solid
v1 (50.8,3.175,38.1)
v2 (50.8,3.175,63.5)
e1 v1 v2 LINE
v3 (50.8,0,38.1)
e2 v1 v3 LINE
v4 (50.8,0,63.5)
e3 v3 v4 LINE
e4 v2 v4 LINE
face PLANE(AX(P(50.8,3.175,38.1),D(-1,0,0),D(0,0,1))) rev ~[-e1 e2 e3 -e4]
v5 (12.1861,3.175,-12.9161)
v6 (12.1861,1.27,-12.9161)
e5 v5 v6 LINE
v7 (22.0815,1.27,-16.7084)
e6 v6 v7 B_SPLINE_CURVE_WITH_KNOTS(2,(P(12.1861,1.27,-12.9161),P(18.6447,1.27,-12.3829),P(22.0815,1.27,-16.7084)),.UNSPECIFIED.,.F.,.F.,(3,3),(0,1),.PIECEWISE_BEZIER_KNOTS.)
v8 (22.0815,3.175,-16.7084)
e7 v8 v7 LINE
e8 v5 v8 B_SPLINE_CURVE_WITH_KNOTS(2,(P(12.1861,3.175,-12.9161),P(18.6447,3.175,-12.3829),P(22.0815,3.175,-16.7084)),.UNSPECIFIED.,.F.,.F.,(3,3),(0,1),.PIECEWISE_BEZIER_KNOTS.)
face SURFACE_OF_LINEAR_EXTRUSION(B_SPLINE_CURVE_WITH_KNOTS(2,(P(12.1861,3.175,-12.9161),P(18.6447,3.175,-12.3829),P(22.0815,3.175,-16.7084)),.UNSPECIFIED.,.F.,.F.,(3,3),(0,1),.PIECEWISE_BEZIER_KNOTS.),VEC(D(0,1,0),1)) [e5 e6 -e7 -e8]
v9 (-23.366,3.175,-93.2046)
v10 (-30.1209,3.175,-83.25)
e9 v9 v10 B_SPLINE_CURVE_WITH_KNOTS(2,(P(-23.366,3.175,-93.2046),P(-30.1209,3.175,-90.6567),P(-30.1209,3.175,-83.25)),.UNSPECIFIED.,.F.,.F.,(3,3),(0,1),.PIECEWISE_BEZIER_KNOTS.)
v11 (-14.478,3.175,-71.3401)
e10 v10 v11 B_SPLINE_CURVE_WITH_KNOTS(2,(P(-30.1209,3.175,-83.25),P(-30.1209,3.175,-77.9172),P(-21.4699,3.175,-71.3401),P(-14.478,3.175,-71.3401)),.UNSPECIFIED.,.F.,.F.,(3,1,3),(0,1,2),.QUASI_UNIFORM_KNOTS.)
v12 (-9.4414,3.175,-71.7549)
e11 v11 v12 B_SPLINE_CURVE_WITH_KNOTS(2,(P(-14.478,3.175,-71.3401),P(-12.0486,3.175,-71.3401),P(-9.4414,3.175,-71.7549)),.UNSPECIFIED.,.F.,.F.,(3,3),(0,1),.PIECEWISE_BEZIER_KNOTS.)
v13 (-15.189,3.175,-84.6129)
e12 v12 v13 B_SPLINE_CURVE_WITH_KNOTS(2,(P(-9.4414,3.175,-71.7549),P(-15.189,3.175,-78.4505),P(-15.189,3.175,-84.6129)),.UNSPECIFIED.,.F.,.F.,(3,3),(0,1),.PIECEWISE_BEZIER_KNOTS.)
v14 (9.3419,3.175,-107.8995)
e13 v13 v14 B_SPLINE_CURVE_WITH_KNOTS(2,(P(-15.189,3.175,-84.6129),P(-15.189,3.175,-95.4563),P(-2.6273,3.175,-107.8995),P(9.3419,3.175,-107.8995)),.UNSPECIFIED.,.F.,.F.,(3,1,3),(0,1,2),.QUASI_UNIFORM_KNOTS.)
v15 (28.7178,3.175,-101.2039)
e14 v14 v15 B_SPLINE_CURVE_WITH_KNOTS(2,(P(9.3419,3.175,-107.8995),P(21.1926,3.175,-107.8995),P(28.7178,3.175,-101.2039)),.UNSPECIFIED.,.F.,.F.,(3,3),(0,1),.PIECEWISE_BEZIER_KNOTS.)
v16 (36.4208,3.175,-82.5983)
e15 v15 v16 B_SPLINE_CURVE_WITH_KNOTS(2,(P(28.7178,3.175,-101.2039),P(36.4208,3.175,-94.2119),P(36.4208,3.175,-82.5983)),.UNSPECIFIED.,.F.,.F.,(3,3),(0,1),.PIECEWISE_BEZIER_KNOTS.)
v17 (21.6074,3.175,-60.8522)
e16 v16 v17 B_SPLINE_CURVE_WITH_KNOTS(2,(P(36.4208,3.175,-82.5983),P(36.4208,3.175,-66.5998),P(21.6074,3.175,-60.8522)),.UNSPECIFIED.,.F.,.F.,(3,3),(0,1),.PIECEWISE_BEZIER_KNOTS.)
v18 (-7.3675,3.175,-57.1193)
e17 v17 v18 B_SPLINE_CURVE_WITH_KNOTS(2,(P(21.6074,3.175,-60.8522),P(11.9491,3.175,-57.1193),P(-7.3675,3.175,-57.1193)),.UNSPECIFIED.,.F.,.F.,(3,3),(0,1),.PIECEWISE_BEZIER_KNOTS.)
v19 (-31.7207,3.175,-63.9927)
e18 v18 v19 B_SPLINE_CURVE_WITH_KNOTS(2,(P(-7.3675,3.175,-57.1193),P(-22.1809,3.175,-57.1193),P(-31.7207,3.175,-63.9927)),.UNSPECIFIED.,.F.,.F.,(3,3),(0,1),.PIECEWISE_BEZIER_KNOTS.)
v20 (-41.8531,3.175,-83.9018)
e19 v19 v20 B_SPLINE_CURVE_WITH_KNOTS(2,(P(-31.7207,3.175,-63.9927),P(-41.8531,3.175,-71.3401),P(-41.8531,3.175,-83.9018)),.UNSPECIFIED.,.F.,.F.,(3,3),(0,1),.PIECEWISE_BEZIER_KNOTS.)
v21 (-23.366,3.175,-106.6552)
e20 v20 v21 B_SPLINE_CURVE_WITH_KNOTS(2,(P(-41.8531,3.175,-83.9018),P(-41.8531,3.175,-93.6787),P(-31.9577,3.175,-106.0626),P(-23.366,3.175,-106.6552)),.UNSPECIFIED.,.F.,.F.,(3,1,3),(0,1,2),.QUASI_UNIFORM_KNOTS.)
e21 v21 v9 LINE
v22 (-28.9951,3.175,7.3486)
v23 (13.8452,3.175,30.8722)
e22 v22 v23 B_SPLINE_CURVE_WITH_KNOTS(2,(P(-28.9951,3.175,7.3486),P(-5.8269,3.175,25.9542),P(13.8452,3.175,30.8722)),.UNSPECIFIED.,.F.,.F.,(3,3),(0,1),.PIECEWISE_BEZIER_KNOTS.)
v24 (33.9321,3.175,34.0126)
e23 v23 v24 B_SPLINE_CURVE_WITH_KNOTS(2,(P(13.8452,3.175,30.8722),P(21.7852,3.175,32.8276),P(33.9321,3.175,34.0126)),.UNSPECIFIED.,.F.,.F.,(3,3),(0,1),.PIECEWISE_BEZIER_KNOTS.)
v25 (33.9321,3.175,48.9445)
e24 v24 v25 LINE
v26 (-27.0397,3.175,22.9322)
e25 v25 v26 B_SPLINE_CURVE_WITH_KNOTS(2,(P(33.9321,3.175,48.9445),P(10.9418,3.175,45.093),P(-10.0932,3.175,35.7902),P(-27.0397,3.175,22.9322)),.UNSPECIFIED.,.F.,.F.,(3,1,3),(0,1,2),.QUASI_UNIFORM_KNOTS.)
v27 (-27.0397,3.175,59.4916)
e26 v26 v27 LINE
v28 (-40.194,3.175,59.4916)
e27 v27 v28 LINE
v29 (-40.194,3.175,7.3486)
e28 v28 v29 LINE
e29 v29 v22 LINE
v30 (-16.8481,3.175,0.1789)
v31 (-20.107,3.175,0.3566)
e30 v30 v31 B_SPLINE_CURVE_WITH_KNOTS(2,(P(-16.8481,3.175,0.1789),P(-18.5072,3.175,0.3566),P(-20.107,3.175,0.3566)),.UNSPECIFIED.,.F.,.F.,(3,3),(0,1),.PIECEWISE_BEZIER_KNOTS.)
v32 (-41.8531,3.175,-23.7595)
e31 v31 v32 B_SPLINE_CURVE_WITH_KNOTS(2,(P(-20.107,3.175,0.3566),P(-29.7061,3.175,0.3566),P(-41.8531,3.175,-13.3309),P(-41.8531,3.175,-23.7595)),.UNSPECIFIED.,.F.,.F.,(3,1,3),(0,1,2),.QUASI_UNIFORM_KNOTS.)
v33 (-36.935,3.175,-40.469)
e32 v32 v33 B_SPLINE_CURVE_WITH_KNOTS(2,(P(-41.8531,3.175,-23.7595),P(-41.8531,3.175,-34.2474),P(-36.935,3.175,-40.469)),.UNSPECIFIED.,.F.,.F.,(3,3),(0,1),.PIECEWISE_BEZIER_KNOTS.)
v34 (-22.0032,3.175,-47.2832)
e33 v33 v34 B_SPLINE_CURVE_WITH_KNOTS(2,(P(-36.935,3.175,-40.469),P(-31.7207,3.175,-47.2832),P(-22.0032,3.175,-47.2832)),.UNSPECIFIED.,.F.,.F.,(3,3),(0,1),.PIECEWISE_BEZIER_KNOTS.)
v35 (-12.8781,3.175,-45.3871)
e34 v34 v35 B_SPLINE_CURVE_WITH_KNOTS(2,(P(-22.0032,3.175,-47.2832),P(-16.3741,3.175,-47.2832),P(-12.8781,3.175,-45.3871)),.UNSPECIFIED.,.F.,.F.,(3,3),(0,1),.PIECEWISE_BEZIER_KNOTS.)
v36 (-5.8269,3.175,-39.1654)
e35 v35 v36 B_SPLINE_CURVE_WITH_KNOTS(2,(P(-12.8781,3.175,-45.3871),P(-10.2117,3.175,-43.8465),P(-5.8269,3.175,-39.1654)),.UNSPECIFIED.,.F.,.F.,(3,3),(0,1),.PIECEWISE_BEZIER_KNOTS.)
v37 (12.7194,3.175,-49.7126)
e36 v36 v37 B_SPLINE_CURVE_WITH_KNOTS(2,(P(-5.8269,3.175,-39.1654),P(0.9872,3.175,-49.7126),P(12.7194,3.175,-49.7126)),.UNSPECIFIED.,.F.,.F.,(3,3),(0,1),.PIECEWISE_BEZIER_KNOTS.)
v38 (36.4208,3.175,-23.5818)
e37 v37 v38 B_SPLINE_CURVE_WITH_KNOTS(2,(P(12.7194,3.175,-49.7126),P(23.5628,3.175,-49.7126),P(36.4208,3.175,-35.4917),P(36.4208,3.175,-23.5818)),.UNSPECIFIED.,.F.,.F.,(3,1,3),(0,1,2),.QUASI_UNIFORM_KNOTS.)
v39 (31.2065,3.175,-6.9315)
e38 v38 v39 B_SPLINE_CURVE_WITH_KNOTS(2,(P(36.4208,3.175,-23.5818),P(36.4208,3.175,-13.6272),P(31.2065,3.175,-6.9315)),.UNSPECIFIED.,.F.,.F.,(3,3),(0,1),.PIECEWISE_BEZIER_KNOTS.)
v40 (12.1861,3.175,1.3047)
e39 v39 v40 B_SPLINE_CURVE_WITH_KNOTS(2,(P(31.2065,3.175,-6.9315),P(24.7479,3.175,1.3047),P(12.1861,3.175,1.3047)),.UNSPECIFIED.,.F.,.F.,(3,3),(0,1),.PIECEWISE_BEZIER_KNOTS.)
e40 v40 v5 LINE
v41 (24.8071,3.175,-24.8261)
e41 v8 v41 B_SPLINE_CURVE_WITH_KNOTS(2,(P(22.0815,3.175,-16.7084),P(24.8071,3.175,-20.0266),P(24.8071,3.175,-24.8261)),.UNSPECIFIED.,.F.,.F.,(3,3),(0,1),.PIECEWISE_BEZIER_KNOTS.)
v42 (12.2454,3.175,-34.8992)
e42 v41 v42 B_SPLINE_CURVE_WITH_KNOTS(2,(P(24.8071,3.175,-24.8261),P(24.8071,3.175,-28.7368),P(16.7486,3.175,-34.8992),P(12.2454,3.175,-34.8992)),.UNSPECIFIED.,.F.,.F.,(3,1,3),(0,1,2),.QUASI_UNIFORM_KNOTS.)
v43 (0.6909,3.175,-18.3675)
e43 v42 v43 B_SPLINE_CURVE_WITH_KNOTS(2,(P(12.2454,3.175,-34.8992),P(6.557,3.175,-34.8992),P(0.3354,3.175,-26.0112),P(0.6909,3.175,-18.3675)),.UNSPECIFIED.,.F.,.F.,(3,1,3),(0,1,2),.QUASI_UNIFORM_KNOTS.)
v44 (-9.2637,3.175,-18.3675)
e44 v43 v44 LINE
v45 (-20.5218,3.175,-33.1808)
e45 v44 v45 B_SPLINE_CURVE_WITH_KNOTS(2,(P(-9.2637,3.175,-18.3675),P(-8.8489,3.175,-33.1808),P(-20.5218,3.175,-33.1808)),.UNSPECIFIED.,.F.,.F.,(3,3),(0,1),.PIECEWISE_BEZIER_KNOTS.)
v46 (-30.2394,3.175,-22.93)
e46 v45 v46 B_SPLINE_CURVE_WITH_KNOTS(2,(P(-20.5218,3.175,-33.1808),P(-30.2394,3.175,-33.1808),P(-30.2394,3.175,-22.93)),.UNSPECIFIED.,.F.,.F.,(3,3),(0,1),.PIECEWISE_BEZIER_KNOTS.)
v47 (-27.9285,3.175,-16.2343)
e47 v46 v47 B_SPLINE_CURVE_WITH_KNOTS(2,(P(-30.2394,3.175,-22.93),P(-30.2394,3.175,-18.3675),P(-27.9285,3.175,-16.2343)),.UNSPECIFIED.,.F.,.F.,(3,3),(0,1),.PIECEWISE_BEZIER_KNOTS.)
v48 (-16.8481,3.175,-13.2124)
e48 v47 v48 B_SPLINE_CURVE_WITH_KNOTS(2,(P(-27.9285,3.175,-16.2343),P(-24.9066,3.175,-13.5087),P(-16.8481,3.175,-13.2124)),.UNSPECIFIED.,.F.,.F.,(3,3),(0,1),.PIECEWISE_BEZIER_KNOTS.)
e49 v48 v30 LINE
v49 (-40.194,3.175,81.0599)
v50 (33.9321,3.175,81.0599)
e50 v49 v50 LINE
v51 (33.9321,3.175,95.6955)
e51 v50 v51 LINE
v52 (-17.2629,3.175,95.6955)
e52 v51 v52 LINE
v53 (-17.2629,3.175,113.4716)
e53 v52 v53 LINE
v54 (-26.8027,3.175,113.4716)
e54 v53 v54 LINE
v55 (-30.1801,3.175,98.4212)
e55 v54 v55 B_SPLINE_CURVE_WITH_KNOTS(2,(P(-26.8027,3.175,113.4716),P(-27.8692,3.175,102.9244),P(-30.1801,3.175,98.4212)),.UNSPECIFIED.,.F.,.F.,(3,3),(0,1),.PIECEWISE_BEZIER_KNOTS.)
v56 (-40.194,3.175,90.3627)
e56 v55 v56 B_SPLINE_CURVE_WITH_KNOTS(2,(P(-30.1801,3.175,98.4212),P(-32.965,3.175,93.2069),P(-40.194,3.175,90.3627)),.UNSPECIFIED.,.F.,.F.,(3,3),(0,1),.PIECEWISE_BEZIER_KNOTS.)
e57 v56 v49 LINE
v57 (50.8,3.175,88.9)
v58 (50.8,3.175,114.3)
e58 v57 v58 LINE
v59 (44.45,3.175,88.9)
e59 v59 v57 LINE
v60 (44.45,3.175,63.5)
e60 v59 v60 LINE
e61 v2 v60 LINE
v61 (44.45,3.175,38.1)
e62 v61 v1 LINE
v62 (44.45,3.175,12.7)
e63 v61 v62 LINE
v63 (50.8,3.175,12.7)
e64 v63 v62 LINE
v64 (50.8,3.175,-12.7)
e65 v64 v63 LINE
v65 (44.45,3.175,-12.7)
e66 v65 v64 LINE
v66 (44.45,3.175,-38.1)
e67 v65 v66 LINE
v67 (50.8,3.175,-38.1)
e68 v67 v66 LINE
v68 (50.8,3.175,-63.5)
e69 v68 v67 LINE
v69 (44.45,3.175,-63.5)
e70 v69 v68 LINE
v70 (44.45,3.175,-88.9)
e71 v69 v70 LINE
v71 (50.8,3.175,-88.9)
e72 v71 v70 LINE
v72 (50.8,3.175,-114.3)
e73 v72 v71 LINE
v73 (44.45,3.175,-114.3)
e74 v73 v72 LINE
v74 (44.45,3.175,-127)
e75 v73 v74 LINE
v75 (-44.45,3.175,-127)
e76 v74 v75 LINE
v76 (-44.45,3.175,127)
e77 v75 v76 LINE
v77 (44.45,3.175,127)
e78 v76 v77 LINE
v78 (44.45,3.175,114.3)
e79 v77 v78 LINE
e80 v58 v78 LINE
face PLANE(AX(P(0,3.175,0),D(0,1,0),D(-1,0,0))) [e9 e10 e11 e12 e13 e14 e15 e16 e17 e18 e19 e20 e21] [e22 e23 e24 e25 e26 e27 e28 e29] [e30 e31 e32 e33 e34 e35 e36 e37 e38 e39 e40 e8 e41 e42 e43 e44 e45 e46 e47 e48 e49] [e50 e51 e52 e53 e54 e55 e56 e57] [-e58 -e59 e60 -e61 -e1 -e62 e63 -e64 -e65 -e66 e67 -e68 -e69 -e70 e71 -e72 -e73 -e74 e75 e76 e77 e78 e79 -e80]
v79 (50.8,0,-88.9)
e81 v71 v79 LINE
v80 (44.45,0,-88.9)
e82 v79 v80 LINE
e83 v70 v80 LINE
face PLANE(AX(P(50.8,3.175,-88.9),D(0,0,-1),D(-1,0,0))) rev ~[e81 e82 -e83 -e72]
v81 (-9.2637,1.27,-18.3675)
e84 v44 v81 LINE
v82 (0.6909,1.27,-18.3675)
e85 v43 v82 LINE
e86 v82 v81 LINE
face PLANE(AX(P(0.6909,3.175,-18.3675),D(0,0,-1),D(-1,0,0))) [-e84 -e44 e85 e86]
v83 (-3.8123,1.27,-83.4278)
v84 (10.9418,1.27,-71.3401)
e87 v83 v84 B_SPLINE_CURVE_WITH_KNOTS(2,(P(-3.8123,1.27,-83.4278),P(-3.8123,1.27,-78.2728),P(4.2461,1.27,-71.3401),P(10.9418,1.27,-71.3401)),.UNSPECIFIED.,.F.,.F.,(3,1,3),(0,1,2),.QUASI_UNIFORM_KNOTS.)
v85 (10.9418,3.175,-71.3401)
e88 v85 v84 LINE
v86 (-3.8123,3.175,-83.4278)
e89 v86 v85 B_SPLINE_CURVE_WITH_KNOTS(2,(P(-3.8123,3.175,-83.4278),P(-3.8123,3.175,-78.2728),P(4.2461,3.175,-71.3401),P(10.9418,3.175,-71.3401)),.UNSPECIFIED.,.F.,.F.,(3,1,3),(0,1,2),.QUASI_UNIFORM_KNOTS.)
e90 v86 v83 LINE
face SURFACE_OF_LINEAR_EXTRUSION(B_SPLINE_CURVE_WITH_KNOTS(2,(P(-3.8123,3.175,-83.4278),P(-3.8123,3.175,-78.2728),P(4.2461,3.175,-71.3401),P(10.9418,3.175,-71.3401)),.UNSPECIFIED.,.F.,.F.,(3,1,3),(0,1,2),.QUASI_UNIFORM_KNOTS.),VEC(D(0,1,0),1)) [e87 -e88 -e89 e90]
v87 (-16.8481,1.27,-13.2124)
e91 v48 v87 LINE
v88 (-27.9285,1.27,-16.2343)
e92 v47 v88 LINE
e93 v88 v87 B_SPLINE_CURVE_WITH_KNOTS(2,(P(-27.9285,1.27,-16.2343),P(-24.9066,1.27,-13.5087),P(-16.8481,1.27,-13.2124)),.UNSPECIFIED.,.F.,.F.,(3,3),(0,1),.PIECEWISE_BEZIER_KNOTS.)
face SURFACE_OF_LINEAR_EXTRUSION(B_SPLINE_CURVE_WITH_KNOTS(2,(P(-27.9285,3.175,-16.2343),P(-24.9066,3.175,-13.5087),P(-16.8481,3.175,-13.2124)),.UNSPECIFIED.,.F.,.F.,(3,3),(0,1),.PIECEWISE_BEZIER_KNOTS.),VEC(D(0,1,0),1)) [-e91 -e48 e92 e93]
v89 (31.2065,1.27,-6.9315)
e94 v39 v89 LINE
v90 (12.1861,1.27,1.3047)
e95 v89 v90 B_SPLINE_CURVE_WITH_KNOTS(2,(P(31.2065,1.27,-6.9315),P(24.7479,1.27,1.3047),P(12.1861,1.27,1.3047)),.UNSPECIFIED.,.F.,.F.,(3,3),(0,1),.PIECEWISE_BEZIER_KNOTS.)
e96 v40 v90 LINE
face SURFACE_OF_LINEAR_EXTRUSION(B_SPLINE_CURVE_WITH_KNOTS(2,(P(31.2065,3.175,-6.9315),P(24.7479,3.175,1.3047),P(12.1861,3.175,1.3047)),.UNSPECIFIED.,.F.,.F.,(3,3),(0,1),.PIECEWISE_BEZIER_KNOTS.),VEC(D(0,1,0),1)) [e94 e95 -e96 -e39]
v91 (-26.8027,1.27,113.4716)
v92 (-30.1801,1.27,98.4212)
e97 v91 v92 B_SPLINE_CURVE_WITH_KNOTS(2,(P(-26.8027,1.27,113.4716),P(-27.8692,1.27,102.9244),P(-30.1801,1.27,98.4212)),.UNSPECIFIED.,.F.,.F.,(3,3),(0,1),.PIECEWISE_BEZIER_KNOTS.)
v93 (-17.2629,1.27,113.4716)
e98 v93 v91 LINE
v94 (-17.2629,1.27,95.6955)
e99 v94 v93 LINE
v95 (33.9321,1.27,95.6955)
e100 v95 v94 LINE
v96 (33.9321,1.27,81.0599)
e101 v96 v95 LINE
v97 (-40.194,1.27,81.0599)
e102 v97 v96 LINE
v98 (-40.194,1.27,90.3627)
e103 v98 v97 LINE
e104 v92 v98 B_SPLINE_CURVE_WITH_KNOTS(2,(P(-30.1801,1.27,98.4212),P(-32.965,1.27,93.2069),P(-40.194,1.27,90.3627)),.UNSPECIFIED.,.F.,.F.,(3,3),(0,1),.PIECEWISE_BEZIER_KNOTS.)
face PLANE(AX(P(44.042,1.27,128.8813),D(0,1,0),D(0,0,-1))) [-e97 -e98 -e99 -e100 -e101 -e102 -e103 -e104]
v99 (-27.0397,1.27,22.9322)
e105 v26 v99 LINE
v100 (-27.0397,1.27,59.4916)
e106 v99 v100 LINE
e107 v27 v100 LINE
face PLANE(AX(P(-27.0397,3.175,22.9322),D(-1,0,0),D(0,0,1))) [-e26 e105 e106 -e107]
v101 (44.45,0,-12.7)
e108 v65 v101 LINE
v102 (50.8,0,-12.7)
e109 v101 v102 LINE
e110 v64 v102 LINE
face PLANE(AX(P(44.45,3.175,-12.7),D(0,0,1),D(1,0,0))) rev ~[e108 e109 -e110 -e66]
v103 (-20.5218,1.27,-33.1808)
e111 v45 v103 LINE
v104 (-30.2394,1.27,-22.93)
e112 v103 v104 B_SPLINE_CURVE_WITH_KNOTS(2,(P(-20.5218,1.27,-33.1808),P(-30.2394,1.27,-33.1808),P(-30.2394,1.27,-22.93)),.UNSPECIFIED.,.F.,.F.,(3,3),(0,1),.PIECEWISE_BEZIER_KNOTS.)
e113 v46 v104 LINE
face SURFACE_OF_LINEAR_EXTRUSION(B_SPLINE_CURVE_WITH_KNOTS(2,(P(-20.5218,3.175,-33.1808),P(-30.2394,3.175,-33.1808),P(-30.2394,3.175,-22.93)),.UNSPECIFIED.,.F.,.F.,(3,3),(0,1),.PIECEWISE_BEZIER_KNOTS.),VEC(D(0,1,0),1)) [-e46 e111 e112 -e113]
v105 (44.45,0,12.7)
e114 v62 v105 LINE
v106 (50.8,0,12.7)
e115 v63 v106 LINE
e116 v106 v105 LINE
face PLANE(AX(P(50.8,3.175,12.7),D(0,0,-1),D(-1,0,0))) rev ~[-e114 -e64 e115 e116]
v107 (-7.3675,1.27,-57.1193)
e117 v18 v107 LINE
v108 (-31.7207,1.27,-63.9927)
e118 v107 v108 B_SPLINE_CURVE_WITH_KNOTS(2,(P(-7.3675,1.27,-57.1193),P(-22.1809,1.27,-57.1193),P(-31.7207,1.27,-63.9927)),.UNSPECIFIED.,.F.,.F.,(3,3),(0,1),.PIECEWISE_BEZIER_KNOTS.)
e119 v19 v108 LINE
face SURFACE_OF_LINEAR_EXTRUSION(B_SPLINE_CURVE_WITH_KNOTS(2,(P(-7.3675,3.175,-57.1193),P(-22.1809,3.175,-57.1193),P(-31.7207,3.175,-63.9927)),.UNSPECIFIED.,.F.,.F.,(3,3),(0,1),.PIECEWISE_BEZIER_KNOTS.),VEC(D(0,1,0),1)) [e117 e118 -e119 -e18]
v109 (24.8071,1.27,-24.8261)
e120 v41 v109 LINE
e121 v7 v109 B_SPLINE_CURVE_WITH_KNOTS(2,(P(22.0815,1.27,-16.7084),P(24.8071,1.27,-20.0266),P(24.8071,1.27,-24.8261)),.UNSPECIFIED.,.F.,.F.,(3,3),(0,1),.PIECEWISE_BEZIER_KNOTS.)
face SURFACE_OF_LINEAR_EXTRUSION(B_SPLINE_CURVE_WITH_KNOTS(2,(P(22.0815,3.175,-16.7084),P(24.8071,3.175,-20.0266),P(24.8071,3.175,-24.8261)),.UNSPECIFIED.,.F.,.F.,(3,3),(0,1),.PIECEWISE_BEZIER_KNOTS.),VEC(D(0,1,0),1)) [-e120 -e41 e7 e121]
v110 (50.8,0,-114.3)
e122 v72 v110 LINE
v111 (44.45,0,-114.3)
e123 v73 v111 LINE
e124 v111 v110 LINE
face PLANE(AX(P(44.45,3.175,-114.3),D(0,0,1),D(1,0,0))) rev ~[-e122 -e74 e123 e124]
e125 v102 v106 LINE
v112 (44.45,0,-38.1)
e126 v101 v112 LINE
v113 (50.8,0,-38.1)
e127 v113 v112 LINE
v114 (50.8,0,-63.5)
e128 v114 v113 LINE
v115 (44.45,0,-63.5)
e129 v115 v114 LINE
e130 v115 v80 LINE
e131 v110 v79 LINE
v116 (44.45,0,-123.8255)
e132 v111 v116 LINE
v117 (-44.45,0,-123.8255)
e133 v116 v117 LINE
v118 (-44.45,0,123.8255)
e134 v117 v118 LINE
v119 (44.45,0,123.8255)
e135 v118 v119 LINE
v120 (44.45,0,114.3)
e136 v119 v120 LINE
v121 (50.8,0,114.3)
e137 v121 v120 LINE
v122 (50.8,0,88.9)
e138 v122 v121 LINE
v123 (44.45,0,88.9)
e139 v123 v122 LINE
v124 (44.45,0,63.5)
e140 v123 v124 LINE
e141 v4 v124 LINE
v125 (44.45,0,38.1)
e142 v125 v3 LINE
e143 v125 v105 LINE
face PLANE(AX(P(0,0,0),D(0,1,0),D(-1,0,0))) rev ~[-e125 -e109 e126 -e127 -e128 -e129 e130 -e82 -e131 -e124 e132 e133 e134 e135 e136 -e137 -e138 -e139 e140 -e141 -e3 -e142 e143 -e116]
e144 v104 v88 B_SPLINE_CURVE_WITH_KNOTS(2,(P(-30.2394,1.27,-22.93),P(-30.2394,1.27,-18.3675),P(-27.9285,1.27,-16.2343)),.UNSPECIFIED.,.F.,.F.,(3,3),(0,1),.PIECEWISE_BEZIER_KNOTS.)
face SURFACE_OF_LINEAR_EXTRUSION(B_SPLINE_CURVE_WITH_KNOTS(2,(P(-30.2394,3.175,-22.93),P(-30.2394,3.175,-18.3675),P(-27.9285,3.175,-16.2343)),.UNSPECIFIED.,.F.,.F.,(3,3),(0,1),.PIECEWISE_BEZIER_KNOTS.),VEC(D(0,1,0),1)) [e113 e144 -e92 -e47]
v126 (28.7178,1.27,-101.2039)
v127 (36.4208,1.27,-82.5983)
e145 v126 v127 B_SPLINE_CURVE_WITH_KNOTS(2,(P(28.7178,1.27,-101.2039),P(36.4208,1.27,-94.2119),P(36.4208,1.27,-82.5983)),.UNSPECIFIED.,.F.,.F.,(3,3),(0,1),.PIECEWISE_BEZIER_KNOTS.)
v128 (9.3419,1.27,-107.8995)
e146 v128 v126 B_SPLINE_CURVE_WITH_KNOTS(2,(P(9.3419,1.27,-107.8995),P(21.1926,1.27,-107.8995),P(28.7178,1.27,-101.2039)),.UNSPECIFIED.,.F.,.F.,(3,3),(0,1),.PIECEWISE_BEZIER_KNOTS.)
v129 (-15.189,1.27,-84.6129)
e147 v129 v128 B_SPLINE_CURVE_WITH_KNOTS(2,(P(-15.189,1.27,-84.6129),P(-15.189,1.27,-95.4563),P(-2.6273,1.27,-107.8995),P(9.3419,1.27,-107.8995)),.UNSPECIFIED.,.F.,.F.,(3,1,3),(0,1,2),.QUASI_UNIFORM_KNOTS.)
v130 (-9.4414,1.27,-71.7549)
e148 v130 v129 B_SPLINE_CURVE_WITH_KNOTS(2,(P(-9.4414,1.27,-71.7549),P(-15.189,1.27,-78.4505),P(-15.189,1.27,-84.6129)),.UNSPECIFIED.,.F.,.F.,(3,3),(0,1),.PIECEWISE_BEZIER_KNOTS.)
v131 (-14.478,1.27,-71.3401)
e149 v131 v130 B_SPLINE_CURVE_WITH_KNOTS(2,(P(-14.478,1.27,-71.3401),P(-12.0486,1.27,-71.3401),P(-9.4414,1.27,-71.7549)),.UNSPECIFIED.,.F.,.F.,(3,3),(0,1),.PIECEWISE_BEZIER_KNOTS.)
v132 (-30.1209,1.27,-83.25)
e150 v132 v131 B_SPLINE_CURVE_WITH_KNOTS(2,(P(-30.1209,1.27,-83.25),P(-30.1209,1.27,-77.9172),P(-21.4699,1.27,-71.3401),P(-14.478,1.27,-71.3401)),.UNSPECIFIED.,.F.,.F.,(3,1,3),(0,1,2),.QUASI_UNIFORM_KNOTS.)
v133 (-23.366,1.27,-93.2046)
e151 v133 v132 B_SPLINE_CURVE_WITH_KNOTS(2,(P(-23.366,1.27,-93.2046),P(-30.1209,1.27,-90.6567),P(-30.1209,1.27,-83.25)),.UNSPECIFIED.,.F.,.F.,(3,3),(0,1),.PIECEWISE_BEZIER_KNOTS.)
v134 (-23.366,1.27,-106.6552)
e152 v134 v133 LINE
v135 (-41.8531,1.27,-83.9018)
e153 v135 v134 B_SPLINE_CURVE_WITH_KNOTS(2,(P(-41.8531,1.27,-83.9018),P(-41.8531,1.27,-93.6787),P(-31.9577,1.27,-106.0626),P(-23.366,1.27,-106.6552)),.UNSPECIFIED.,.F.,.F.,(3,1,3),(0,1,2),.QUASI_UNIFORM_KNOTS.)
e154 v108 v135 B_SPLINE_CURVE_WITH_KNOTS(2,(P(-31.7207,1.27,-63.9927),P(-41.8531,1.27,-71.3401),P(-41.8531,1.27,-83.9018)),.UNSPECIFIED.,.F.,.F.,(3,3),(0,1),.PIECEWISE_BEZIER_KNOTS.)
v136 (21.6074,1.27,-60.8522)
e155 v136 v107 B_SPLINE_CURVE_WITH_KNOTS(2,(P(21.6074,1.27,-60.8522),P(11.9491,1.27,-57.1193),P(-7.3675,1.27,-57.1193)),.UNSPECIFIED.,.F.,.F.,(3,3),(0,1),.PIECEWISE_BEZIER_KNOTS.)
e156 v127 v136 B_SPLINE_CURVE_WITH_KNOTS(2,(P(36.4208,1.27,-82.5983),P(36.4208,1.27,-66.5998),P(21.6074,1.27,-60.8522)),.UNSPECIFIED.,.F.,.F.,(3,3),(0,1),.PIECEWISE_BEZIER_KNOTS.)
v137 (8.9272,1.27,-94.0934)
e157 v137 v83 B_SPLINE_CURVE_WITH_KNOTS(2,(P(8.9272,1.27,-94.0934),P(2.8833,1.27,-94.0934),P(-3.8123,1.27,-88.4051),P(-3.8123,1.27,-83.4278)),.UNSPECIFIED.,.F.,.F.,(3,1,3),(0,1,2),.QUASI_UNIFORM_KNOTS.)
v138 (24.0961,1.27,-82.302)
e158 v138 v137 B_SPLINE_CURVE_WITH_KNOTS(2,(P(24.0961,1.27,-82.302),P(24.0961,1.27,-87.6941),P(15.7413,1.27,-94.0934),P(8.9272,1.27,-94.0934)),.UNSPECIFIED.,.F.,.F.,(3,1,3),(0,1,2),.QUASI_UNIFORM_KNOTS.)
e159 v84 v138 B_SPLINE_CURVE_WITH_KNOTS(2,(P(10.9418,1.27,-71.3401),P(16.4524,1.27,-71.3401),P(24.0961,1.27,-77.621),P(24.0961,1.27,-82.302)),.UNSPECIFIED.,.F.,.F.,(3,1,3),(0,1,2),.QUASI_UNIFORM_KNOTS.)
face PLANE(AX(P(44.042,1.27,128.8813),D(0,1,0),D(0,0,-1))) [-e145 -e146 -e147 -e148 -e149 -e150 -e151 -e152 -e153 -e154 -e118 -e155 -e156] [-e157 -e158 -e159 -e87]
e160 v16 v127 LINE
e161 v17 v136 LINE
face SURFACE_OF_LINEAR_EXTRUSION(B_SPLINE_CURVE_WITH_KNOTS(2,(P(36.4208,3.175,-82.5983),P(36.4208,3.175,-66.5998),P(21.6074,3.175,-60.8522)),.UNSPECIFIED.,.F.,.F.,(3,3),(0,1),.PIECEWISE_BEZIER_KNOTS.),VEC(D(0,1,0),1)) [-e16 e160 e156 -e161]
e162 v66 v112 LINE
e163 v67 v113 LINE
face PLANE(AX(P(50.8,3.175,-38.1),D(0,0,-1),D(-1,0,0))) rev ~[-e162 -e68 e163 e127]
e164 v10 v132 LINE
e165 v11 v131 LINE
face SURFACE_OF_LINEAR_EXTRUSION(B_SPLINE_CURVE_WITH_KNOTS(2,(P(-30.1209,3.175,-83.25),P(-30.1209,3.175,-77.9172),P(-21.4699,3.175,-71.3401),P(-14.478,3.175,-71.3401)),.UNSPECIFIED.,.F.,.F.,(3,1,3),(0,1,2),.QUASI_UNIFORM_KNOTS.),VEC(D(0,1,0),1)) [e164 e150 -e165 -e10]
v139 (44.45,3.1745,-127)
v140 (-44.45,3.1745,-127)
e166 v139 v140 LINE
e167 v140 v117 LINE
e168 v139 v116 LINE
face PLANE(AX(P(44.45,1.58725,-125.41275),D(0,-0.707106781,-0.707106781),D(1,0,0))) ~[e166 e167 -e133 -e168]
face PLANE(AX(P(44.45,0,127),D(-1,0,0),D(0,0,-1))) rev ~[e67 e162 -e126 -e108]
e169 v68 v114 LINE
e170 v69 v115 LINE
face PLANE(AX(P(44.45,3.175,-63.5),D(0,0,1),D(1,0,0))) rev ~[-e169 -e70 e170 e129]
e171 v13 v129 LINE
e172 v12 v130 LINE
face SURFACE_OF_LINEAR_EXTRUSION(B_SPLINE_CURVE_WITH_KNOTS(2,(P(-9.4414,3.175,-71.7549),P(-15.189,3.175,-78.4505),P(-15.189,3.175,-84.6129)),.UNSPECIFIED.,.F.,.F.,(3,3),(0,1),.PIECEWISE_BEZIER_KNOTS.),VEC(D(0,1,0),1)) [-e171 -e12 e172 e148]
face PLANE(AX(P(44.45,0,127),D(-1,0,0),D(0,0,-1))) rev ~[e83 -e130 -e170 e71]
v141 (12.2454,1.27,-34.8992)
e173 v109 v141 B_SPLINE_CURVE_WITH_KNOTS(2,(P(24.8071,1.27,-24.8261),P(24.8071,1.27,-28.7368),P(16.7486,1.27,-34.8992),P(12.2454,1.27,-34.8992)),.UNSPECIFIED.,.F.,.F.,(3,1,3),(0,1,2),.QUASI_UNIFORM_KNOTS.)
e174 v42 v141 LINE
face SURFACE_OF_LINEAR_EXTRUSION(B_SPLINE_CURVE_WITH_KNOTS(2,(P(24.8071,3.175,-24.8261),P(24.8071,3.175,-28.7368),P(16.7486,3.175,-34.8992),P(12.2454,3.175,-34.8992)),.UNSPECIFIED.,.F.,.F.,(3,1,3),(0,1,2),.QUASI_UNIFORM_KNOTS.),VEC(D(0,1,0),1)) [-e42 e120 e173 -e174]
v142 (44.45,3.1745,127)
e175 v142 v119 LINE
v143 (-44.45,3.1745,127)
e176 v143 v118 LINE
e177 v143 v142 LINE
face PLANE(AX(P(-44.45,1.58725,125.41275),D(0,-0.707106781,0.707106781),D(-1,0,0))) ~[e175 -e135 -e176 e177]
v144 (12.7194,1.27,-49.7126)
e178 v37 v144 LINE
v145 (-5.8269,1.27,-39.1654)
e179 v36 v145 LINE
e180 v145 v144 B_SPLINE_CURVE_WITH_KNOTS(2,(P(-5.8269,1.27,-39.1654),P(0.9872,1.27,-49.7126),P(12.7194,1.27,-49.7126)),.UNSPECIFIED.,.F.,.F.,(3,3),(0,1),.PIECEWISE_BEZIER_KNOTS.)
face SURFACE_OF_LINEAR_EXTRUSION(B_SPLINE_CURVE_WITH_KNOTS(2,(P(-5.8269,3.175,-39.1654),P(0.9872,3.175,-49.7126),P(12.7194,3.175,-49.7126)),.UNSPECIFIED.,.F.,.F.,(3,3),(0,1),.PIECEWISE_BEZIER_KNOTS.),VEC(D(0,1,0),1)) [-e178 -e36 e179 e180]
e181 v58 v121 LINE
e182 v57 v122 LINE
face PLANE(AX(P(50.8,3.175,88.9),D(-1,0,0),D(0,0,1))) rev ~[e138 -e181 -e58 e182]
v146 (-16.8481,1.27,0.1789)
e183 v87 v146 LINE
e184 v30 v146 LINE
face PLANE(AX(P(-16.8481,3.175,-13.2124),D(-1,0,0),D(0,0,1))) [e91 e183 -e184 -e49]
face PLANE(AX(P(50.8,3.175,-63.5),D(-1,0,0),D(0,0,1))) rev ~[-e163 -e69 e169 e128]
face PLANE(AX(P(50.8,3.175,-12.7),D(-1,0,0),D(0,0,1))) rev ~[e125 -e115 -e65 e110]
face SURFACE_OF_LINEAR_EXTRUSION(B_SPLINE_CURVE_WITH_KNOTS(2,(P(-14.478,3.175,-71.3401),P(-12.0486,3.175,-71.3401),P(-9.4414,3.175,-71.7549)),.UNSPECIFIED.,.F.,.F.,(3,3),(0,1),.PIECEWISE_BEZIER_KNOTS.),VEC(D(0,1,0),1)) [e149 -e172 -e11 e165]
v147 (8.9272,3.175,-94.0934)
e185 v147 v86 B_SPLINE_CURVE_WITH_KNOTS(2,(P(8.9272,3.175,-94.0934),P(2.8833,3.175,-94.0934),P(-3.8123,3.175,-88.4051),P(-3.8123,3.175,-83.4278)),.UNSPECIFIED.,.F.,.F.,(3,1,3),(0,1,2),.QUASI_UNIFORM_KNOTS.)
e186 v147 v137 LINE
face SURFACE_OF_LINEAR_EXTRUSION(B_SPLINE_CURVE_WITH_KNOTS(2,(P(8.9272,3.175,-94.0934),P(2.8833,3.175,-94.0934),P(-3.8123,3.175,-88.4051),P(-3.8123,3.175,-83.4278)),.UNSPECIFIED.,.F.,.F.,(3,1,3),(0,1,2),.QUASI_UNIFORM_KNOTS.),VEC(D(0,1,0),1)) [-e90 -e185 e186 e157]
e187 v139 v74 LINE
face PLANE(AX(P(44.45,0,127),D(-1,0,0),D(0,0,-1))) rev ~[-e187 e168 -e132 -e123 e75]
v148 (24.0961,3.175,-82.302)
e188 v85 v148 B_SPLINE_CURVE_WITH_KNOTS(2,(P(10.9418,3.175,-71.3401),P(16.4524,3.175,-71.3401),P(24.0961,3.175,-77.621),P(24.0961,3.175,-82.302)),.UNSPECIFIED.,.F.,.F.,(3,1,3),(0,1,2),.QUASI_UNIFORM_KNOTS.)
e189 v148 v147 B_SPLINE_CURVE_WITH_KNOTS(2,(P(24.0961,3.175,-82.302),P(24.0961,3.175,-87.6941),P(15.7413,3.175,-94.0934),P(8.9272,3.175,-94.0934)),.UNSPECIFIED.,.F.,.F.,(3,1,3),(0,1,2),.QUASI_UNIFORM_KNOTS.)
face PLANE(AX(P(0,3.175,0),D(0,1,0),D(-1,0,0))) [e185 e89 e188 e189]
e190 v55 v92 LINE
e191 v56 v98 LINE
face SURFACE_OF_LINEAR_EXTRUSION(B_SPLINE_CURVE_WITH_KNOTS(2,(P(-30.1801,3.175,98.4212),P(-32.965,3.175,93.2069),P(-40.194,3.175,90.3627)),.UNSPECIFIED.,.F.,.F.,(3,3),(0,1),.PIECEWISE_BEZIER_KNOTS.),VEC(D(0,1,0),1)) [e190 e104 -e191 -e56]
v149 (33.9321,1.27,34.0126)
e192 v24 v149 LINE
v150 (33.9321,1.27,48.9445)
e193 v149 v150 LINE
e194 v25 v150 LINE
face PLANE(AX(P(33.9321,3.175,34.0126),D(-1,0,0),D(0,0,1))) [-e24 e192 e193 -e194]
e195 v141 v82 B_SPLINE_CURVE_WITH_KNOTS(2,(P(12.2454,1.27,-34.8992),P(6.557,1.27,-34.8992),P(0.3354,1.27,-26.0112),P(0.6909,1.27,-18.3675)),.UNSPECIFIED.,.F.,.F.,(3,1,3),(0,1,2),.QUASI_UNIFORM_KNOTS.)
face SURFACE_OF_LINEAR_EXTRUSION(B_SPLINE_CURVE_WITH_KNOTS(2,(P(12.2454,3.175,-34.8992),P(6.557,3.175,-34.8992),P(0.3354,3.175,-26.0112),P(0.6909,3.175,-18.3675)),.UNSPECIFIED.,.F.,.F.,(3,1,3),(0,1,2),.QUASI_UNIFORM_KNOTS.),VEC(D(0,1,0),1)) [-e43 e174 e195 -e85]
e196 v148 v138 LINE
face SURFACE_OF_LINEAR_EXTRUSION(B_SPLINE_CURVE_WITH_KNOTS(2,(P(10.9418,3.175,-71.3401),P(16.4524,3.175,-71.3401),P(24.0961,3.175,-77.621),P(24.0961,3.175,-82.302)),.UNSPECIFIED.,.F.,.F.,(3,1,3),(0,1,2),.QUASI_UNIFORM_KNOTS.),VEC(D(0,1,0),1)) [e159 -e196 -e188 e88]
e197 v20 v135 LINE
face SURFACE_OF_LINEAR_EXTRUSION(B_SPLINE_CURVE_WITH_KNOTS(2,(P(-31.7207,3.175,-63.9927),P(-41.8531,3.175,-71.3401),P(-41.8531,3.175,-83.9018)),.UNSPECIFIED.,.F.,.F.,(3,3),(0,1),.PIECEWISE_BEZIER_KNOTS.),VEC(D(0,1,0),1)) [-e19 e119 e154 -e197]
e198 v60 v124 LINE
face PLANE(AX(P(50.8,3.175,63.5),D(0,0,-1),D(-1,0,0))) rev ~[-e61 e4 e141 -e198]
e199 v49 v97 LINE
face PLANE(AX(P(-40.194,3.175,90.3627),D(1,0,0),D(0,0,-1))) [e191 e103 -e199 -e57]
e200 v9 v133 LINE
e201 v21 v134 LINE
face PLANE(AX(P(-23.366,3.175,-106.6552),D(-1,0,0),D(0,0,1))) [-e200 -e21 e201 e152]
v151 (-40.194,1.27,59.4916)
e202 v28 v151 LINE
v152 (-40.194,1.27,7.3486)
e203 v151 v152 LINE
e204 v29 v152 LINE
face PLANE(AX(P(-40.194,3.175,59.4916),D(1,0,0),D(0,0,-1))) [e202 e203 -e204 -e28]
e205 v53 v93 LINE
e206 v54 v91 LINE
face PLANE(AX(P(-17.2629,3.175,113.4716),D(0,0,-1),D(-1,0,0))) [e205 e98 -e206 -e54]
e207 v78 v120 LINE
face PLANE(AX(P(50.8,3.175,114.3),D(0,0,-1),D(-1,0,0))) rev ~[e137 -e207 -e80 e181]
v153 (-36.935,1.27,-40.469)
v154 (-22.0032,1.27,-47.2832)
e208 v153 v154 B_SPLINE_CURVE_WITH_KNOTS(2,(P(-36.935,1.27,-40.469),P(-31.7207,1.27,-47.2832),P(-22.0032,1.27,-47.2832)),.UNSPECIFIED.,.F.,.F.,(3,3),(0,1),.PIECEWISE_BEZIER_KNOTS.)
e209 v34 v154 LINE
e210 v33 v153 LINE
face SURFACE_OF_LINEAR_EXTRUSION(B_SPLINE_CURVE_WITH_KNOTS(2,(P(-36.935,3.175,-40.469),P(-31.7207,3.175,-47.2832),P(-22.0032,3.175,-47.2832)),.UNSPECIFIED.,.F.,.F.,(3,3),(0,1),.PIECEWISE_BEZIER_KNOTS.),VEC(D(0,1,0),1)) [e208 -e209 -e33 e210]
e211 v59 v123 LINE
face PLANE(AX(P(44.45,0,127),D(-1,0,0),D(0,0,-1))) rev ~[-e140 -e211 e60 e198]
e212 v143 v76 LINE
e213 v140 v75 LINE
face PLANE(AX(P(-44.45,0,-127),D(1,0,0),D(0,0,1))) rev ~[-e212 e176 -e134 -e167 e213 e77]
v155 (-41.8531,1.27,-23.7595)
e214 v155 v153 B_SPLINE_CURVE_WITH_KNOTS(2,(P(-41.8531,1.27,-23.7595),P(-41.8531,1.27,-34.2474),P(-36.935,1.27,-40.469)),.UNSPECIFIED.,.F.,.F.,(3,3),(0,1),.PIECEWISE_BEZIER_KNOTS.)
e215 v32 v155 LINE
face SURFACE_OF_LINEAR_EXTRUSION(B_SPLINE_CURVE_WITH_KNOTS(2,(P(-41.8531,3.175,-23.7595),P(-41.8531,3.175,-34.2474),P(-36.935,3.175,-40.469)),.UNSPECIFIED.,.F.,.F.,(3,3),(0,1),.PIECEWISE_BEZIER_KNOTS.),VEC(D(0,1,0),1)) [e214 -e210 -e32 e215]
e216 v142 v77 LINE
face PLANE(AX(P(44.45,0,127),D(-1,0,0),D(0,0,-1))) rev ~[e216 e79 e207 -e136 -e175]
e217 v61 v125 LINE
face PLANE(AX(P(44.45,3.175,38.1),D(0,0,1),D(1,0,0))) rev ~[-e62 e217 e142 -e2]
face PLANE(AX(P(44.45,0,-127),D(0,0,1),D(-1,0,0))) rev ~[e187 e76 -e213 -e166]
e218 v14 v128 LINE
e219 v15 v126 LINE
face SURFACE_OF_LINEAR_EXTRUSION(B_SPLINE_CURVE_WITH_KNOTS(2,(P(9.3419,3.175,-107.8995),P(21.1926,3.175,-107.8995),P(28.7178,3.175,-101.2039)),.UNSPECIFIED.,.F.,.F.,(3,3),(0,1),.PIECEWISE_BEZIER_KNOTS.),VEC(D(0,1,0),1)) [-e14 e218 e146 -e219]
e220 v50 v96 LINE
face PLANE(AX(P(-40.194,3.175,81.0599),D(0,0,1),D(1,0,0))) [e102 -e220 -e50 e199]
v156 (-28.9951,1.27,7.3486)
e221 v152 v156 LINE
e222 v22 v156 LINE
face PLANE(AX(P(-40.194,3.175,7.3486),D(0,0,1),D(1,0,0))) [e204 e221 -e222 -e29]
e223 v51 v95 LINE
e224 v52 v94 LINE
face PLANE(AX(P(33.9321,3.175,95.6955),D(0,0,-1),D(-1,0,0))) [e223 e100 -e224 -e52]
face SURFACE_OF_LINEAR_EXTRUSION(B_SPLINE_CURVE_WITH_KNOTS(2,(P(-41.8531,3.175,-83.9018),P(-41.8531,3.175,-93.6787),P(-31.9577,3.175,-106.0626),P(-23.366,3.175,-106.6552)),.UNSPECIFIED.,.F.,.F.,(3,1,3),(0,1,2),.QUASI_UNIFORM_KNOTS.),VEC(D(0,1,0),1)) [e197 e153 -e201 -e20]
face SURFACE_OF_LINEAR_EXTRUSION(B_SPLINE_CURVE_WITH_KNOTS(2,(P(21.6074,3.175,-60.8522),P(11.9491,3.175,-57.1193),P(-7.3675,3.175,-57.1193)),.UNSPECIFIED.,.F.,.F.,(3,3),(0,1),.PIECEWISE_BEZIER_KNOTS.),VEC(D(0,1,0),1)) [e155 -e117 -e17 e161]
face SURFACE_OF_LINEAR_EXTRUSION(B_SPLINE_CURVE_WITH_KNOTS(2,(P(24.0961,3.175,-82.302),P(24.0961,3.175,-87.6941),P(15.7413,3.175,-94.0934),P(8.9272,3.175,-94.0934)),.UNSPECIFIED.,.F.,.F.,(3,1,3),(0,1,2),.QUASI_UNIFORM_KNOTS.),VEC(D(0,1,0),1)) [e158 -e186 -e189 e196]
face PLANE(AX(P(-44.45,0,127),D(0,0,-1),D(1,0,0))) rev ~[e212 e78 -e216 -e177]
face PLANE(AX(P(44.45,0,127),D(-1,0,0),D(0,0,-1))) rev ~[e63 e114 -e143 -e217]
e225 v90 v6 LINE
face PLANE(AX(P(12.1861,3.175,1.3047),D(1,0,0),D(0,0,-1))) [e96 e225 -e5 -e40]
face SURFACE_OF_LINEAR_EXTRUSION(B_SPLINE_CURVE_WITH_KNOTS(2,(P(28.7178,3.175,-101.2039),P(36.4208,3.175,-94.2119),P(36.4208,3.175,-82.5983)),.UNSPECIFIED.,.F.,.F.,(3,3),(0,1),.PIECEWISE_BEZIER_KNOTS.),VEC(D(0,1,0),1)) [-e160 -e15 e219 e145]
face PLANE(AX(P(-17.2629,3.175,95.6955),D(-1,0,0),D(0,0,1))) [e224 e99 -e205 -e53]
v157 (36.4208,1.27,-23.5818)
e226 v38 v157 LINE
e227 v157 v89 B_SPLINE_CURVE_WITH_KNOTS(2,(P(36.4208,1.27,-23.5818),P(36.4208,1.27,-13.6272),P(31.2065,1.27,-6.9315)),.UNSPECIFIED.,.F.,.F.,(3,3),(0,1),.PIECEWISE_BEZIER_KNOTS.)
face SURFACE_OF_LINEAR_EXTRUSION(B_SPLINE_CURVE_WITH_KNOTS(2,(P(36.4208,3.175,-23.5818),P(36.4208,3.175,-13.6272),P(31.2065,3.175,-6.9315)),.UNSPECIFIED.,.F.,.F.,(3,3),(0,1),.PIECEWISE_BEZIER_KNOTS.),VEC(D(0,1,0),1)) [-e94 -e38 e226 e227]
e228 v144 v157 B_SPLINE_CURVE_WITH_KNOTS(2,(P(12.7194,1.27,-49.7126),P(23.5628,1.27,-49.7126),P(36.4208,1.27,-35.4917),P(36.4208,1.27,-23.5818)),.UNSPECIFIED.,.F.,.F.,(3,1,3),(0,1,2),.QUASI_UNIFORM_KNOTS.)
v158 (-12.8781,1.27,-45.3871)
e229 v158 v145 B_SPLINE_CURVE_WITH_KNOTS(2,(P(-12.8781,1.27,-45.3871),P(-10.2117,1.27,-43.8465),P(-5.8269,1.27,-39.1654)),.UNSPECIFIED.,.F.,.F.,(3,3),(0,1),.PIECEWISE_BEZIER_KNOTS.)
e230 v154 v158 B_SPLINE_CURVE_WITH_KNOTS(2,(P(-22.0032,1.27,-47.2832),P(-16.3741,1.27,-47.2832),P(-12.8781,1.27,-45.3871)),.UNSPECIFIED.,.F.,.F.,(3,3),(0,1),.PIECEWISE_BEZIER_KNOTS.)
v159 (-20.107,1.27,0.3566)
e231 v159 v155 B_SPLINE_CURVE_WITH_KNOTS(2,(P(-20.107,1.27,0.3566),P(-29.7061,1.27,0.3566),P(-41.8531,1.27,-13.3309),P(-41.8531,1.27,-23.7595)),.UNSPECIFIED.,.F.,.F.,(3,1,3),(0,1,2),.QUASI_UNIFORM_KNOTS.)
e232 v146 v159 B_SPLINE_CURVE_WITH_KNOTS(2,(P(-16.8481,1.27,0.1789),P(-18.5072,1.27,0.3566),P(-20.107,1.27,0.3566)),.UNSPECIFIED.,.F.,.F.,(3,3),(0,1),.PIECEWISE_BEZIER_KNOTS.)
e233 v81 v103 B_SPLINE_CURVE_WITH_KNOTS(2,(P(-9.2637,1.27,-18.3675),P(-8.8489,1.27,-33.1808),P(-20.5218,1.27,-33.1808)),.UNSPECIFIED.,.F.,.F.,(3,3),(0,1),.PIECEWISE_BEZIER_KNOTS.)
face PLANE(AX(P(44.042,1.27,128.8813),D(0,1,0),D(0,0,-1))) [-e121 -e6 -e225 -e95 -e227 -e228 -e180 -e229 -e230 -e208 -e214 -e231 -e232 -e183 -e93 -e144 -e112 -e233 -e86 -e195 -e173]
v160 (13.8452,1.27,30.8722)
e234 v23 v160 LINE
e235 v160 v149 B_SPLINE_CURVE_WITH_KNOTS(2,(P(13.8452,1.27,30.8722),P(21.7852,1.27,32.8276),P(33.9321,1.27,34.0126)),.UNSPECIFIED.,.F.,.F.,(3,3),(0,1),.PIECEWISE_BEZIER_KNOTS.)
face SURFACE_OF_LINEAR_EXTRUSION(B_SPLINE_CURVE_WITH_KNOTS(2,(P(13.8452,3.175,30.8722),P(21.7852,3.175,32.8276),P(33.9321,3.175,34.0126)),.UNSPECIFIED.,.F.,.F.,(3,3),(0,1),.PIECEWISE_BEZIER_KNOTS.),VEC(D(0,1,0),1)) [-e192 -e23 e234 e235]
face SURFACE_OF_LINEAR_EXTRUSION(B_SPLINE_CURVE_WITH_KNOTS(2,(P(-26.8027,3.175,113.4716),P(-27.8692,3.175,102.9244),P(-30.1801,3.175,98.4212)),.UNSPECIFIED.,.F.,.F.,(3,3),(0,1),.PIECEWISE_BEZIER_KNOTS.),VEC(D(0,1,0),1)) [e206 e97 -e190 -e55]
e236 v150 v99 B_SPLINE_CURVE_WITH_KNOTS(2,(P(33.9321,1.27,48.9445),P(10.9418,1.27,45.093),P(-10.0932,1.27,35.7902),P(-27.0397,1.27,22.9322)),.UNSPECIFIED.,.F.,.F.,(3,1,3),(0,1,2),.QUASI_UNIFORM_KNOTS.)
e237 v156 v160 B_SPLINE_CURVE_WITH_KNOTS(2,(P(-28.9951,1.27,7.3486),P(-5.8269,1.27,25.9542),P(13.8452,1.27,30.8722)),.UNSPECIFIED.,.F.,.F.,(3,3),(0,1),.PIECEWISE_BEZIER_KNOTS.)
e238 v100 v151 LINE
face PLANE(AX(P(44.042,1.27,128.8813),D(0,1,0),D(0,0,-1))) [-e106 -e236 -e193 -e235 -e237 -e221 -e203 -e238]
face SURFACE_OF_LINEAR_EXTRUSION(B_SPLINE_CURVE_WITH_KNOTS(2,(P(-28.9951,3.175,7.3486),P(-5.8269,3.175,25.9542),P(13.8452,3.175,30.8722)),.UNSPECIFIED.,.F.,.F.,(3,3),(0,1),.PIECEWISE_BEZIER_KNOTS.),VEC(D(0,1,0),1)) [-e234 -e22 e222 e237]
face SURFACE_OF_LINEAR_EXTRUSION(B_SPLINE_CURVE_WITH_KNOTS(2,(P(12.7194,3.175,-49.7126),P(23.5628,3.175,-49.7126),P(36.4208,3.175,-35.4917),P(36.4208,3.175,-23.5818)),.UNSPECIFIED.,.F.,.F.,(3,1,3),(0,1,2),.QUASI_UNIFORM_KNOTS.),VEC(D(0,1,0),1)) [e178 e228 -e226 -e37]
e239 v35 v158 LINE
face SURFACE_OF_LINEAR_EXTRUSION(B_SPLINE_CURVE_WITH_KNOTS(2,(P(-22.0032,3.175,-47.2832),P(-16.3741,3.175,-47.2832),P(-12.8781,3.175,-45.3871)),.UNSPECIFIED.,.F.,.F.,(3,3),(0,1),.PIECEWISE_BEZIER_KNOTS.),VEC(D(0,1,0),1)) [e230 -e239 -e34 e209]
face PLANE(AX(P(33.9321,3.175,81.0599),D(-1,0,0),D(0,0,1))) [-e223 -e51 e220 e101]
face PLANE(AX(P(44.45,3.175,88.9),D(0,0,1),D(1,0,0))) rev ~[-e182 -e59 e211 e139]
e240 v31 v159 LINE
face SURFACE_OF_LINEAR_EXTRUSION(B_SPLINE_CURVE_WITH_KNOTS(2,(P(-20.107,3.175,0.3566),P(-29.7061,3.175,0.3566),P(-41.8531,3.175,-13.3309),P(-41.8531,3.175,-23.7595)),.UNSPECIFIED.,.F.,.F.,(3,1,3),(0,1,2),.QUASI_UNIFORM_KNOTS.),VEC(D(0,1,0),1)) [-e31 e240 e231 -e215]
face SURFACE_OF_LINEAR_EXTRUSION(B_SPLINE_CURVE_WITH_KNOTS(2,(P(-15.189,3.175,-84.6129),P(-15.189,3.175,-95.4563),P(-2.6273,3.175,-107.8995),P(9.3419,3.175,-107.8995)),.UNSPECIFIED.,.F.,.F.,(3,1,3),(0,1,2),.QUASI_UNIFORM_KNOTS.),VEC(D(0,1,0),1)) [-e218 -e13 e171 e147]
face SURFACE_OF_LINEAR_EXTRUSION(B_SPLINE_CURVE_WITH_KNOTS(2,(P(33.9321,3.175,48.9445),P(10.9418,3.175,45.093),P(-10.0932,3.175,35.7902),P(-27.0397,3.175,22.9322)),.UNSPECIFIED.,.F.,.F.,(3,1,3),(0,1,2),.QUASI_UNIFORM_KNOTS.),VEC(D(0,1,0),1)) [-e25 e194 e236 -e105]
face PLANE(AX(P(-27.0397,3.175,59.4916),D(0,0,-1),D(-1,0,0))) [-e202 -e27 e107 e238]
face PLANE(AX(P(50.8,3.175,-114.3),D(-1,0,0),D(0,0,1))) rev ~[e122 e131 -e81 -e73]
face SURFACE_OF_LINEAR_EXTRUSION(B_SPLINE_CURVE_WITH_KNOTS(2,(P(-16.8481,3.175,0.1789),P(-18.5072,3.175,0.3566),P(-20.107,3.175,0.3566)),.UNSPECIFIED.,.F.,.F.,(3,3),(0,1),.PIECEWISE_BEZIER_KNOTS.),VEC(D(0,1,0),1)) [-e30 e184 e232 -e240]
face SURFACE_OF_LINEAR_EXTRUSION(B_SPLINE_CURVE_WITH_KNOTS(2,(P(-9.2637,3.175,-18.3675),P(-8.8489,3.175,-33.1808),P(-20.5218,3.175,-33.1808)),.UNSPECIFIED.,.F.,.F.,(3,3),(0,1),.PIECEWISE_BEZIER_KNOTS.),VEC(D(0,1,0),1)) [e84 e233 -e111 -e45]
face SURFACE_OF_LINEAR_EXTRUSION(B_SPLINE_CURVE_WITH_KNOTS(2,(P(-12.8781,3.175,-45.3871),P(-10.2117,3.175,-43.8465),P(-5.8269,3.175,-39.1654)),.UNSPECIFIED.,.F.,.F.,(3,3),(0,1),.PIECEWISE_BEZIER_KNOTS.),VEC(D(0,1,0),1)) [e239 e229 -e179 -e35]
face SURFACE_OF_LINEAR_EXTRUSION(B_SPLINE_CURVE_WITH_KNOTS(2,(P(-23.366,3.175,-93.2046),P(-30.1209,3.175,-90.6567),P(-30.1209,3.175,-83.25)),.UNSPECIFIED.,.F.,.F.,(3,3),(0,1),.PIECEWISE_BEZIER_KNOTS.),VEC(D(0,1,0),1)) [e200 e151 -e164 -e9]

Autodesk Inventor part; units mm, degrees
ref_plane "YZ Plane" through (0, 0, 0) normal (1, 0, 0) x (0, 1, 0)
ref_plane "XZ Plane" through (0, 0, 0) normal (0, 1, 0) x (-1, 0, 0)
ref_plane "XY Plane" through (0, 0, 0) normal (0, 0, 1) x (1, 0, 0)
sketch "Sketch1" plane through (0, 0, 0) normal (0, 1, 0) x (-1, 0, 0)
  line L0 (44.45, 127) -> (-44.45, 127)
  line L1 (-44.45, 127) -> (-44.45, -127)
  line L2 (-44.45, -127) -> (44.45, -127)
  line L3 (44.45, -127) -> (44.45, 127)
  point P0 (0, 0)
  dimension "d0" = 88.9
  dimension "d1" = 254
extrude "Extrusion1" add sketch "Sketch1" along normal blind 3.175
sketch "Sketch3" plane through (0, 3.175, 0) normal (0, 1, 0) x (1, 0, 0)
  line L0 (50.8, -114.3) -> (44.45, -114.3)
  line L1 (44.45, -114.3) -> (44.45, -88.9)
  line L2 (44.45, -88.9) -> (50.8, -88.9)
  line L3 (50.8, -88.9) -> (50.8, -114.3)
  line L4 (50.8, -63.5) -> (44.45, -63.5)
  line L5 (44.45, -63.5) -> (44.45, -38.1)
  line L6 (44.45, -38.1) -> (50.8, -38.1)
  line L7 (50.8, -38.1) -> (50.8, -63.5)
  line L8 (50.8, -12.7) -> (44.45, -12.7)
  line L9 (44.45, -12.7) -> (44.45, 12.7)
  line L10 (44.45, 12.7) -> (50.8, 12.7)
  line L11 (50.8, 12.7) -> (50.8, -12.7)
  line L12 (50.8, 38.1) -> (44.45, 38.1)
  line L13 (44.45, 38.1) -> (44.45, 63.5)
  line L14 (44.45, 63.5) -> (50.8, 63.5)
  line L15 (50.8, 63.5) -> (50.8, 38.1)
  line L16 (50.8, 88.9) -> (44.45, 88.9)
  line L17 (44.45, 88.9) -> (44.45, 114.3)
  line L18 (44.45, 114.3) -> (50.8, 114.3)
  line L19 (50.8, 114.3) -> (50.8, 88.9)
  point P0 (0, 0)
  dimension "d6" = 50.8
extrude "Extrusion2" add sketch "Sketch3" against normal blind 3.175
sketch "Sketch4" plane through (44.042, 3.175, 128.8813) normal (0, 1, 0) x (0, 0, -1)
  line L0 (8.2401, 85.8951) -> (239.8135, 85.8951) construction
  line L1 (239.8135, 85.8951) -> (239.8135, 3.5919) construction
  line L2 (239.8135, 3.5919) -> (8.2401, 3.5919) construction
  line L3 (8.2401, 3.5919) -> (8.2401, 85.8951) construction
  line L4 (47.8214, 10.1099) -> (33.1858, 10.1099)
  line L5 (33.1858, 10.1099) -> (33.1858, 61.3049)
  line L6 (33.1858, 61.3049) -> (15.4097, 61.3049)
  line L7 (15.4097, 61.3049) -> (15.4097, 70.8447)
  spline S0 degree 2 poles (15.4097, 70.8447) (25.9569, 71.9112) (30.4601, 74.2221) knots 0 0 0 1 1 1
  spline S1 degree 2 poles (30.4601, 74.2221) (35.6744, 77.007) (38.5186, 84.236) knots 0 0 0 1 1 1
  line L8 (38.5186, 84.236) -> (47.8214, 84.236)
  line L9 (47.8214, 84.236) -> (47.8214, 10.1099)
  spline S2 degree 2 poles (121.5327, 73.0371) (102.9271, 49.8689) (98.0091, 30.1968) knots 0 0 0 1 1 1
  spline S3 degree 2 poles (98.0091, 30.1968) (96.0537, 22.2568) (94.8687, 10.1099) knots 0 0 0 1 1 1
  line L10 (94.8687, 10.1099) -> (79.9368, 10.1099)
  spline S4 degree 2 poles (79.9368, 10.1099) (83.7883, 33.1002) (93.0911, 54.1352) (105.9491, 71.0817) knots 0 0 0 1 2 2 2
  line L11 (105.9491, 71.0817) -> (69.3897, 71.0817)
  line L12 (69.3897, 71.0817) -> (69.3897, 84.236)
  line L13 (69.3897, 84.236) -> (121.5327, 84.236)
  line L14 (121.5327, 84.236) -> (121.5327, 73.0371)
  spline S5 degree 2 poles (178.5939, 31.3226) (178.5939, 20.4792) (164.373, 7.6212) (152.4631, 7.6212) knots 0 0 0 1 2 2 2
  spline S6 degree 2 poles (152.4631, 7.6212) (142.5085, 7.6212) (135.8128, 12.8355) knots 0 0 0 1 1 1
  spline S7 degree 2 poles (135.8128, 12.8355) (127.5766, 19.2941) (127.5766, 31.8559) knots 0 0 0 1 1 1
  line L15 (127.5766, 31.8559) -> (141.7974, 31.8559)
  spline S8 degree 2 poles (141.7974, 31.8559) (141.2642, 25.3973) (145.5897, 21.9605) knots 0 0 0 1 1 1
  spline S9 degree 2 poles (145.5897, 21.9605) (148.9079, 19.2349) (153.7074, 19.2349) knots 0 0 0 1 1 1
  spline S10 degree 2 poles (153.7074, 19.2349) (157.6181, 19.2349) (163.7805, 27.2934) (163.7805, 31.7966) knots 0 0 0 1 2 2 2
  spline S11 degree 2 poles (163.7805, 31.7966) (163.7805, 37.485) (154.8925, 43.7066) (147.2488, 43.3511) knots 0 0 0 1 2 2 2
  line L16 (147.2488, 43.3511) -> (147.2488, 53.3057)
  spline S12 degree 2 poles (147.2488, 53.3057) (162.0621, 52.8909) (162.0621, 64.5638) knots 0 0 0 1 1 1
  spline S13 degree 2 poles (162.0621, 64.5638) (162.0621, 74.2814) (151.8113, 74.2814) knots 0 0 0 1 1 1
  spline S14 degree 2 poles (151.8113, 74.2814) (147.2488, 74.2814) (145.1156, 71.9705) knots 0 0 0 1 1 1
  spline S15 degree 2 poles (145.1156, 71.9705) (142.39, 68.9486) (142.0937, 60.8901) knots 0 0 0 1 1 1
  line L17 (142.0937, 60.8901) -> (128.7024, 60.8901)
  spline S16 degree 2 poles (128.7024, 60.8901) (128.5247, 62.5492) (128.5247, 64.149) knots 0 0 0 1 1 1
  spline S17 degree 2 poles (128.5247, 64.149) (128.5247, 73.7481) (142.2122, 85.8951) (152.6408, 85.8951) knots 0 0 0 1 2 2 2
  spline S18 degree 2 poles (152.6408, 85.8951) (163.1287, 85.8951) (169.3503, 80.977) knots 0 0 0 1 1 1
  spline S19 degree 2 poles (169.3503, 80.977) (176.1645, 75.7627) (176.1645, 66.0452) knots 0 0 0 1 1 1
  spline S20 degree 2 poles (176.1645, 66.0452) (176.1645, 60.4161) (174.2684, 56.9201) knots 0 0 0 1 1 1
  spline S21 degree 2 poles (174.2684, 56.9201) (172.7278, 54.2537) (168.0467, 49.8689) knots 0 0 0 1 1 1
  spline S22 degree 2 poles (168.0467, 49.8689) (178.5939, 43.0548) (178.5939, 31.3226) knots 0 0 0 1 1 1
  spline S23 degree 2 poles (236.7808, 34.7001) (236.7808, 22.8494) (230.0852, 15.3242) knots 0 0 0 1 1 1
  spline S24 degree 2 poles (230.0852, 15.3242) (223.0932, 7.6212) (211.4796, 7.6212) knots 0 0 0 1 1 1
  spline S25 degree 2 poles (211.4796, 7.6212) (195.4811, 7.6212) (189.7335, 22.4346) knots 0 0 0 1 1 1
  spline S26 degree 2 poles (189.7335, 22.4346) (186.0006, 32.0929) (186.0006, 51.4095) knots 0 0 0 1 1 1
  spline S27 degree 2 poles (186.0006, 51.4095) (186.0006, 66.2229) (192.874, 75.7627) knots 0 0 0 1 1 1
  spline S28 degree 2 poles (192.874, 75.7627) (200.2214, 85.8951) (212.7831, 85.8951) knots 0 0 0 1 1 1
  spline S29 degree 2 poles (212.7831, 85.8951) (222.56, 85.8951) (234.9439, 75.9997) (235.5365, 67.408) knots 0 0 0 1 2 2 2
  line L18 (235.5365, 67.408) -> (222.0859, 67.408)
  spline S30 degree 2 poles (222.0859, 67.408) (219.538, 74.1629) (212.1313, 74.1629) knots 0 0 0 1 1 1
  spline S31 degree 2 poles (212.1313, 74.1629) (206.7985, 74.1629) (200.2214, 65.5119) (200.2214, 58.52) knots 0 0 0 1 2 2 2
  spline S32 degree 2 poles (200.2214, 58.52) (200.2214, 56.0906) (200.6362, 53.4834) knots 0 0 0 1 1 1
  spline S33 degree 2 poles (200.6362, 53.4834) (207.3318, 59.231) (213.4942, 59.231) knots 0 0 0 1 1 1
  spline S34 degree 2 poles (213.4942, 59.231) (224.3376, 59.231) (236.7808, 46.6693) (236.7808, 34.7001) knots 0 0 0 1 2 2 2
  spline S35 degree 2 poles (222.9747, 35.1148) (222.9747, 41.1587) (217.2864, 47.8543) (212.3091, 47.8543) knots 0 0 0 1 2 2 2
  spline S36 degree 2 poles (212.3091, 47.8543) (207.1541, 47.8543) (200.2214, 39.7959) (200.2214, 33.1002) knots 0 0 0 1 2 2 2
  spline S37 degree 2 poles (200.2214, 33.1002) (200.2214, 27.5896) (206.5023, 19.9459) (211.1833, 19.9459) knots 0 0 0 1 2 2 2
  spline S38 degree 2 poles (211.1833, 19.9459) (216.5754, 19.9459) (222.9747, 28.3007) (222.9747, 35.1148) knots 0 0 0 1 2 2 2
  point P0 (127, 0)
extrude "Extrusion3" cut sketch "Sketch4" against normal blind 1.905
chamfer "Chamfer1" distance 3.175 angle 45 2 edges at (0, 0, 127) (0, 0, -127)
properties part number "side"
